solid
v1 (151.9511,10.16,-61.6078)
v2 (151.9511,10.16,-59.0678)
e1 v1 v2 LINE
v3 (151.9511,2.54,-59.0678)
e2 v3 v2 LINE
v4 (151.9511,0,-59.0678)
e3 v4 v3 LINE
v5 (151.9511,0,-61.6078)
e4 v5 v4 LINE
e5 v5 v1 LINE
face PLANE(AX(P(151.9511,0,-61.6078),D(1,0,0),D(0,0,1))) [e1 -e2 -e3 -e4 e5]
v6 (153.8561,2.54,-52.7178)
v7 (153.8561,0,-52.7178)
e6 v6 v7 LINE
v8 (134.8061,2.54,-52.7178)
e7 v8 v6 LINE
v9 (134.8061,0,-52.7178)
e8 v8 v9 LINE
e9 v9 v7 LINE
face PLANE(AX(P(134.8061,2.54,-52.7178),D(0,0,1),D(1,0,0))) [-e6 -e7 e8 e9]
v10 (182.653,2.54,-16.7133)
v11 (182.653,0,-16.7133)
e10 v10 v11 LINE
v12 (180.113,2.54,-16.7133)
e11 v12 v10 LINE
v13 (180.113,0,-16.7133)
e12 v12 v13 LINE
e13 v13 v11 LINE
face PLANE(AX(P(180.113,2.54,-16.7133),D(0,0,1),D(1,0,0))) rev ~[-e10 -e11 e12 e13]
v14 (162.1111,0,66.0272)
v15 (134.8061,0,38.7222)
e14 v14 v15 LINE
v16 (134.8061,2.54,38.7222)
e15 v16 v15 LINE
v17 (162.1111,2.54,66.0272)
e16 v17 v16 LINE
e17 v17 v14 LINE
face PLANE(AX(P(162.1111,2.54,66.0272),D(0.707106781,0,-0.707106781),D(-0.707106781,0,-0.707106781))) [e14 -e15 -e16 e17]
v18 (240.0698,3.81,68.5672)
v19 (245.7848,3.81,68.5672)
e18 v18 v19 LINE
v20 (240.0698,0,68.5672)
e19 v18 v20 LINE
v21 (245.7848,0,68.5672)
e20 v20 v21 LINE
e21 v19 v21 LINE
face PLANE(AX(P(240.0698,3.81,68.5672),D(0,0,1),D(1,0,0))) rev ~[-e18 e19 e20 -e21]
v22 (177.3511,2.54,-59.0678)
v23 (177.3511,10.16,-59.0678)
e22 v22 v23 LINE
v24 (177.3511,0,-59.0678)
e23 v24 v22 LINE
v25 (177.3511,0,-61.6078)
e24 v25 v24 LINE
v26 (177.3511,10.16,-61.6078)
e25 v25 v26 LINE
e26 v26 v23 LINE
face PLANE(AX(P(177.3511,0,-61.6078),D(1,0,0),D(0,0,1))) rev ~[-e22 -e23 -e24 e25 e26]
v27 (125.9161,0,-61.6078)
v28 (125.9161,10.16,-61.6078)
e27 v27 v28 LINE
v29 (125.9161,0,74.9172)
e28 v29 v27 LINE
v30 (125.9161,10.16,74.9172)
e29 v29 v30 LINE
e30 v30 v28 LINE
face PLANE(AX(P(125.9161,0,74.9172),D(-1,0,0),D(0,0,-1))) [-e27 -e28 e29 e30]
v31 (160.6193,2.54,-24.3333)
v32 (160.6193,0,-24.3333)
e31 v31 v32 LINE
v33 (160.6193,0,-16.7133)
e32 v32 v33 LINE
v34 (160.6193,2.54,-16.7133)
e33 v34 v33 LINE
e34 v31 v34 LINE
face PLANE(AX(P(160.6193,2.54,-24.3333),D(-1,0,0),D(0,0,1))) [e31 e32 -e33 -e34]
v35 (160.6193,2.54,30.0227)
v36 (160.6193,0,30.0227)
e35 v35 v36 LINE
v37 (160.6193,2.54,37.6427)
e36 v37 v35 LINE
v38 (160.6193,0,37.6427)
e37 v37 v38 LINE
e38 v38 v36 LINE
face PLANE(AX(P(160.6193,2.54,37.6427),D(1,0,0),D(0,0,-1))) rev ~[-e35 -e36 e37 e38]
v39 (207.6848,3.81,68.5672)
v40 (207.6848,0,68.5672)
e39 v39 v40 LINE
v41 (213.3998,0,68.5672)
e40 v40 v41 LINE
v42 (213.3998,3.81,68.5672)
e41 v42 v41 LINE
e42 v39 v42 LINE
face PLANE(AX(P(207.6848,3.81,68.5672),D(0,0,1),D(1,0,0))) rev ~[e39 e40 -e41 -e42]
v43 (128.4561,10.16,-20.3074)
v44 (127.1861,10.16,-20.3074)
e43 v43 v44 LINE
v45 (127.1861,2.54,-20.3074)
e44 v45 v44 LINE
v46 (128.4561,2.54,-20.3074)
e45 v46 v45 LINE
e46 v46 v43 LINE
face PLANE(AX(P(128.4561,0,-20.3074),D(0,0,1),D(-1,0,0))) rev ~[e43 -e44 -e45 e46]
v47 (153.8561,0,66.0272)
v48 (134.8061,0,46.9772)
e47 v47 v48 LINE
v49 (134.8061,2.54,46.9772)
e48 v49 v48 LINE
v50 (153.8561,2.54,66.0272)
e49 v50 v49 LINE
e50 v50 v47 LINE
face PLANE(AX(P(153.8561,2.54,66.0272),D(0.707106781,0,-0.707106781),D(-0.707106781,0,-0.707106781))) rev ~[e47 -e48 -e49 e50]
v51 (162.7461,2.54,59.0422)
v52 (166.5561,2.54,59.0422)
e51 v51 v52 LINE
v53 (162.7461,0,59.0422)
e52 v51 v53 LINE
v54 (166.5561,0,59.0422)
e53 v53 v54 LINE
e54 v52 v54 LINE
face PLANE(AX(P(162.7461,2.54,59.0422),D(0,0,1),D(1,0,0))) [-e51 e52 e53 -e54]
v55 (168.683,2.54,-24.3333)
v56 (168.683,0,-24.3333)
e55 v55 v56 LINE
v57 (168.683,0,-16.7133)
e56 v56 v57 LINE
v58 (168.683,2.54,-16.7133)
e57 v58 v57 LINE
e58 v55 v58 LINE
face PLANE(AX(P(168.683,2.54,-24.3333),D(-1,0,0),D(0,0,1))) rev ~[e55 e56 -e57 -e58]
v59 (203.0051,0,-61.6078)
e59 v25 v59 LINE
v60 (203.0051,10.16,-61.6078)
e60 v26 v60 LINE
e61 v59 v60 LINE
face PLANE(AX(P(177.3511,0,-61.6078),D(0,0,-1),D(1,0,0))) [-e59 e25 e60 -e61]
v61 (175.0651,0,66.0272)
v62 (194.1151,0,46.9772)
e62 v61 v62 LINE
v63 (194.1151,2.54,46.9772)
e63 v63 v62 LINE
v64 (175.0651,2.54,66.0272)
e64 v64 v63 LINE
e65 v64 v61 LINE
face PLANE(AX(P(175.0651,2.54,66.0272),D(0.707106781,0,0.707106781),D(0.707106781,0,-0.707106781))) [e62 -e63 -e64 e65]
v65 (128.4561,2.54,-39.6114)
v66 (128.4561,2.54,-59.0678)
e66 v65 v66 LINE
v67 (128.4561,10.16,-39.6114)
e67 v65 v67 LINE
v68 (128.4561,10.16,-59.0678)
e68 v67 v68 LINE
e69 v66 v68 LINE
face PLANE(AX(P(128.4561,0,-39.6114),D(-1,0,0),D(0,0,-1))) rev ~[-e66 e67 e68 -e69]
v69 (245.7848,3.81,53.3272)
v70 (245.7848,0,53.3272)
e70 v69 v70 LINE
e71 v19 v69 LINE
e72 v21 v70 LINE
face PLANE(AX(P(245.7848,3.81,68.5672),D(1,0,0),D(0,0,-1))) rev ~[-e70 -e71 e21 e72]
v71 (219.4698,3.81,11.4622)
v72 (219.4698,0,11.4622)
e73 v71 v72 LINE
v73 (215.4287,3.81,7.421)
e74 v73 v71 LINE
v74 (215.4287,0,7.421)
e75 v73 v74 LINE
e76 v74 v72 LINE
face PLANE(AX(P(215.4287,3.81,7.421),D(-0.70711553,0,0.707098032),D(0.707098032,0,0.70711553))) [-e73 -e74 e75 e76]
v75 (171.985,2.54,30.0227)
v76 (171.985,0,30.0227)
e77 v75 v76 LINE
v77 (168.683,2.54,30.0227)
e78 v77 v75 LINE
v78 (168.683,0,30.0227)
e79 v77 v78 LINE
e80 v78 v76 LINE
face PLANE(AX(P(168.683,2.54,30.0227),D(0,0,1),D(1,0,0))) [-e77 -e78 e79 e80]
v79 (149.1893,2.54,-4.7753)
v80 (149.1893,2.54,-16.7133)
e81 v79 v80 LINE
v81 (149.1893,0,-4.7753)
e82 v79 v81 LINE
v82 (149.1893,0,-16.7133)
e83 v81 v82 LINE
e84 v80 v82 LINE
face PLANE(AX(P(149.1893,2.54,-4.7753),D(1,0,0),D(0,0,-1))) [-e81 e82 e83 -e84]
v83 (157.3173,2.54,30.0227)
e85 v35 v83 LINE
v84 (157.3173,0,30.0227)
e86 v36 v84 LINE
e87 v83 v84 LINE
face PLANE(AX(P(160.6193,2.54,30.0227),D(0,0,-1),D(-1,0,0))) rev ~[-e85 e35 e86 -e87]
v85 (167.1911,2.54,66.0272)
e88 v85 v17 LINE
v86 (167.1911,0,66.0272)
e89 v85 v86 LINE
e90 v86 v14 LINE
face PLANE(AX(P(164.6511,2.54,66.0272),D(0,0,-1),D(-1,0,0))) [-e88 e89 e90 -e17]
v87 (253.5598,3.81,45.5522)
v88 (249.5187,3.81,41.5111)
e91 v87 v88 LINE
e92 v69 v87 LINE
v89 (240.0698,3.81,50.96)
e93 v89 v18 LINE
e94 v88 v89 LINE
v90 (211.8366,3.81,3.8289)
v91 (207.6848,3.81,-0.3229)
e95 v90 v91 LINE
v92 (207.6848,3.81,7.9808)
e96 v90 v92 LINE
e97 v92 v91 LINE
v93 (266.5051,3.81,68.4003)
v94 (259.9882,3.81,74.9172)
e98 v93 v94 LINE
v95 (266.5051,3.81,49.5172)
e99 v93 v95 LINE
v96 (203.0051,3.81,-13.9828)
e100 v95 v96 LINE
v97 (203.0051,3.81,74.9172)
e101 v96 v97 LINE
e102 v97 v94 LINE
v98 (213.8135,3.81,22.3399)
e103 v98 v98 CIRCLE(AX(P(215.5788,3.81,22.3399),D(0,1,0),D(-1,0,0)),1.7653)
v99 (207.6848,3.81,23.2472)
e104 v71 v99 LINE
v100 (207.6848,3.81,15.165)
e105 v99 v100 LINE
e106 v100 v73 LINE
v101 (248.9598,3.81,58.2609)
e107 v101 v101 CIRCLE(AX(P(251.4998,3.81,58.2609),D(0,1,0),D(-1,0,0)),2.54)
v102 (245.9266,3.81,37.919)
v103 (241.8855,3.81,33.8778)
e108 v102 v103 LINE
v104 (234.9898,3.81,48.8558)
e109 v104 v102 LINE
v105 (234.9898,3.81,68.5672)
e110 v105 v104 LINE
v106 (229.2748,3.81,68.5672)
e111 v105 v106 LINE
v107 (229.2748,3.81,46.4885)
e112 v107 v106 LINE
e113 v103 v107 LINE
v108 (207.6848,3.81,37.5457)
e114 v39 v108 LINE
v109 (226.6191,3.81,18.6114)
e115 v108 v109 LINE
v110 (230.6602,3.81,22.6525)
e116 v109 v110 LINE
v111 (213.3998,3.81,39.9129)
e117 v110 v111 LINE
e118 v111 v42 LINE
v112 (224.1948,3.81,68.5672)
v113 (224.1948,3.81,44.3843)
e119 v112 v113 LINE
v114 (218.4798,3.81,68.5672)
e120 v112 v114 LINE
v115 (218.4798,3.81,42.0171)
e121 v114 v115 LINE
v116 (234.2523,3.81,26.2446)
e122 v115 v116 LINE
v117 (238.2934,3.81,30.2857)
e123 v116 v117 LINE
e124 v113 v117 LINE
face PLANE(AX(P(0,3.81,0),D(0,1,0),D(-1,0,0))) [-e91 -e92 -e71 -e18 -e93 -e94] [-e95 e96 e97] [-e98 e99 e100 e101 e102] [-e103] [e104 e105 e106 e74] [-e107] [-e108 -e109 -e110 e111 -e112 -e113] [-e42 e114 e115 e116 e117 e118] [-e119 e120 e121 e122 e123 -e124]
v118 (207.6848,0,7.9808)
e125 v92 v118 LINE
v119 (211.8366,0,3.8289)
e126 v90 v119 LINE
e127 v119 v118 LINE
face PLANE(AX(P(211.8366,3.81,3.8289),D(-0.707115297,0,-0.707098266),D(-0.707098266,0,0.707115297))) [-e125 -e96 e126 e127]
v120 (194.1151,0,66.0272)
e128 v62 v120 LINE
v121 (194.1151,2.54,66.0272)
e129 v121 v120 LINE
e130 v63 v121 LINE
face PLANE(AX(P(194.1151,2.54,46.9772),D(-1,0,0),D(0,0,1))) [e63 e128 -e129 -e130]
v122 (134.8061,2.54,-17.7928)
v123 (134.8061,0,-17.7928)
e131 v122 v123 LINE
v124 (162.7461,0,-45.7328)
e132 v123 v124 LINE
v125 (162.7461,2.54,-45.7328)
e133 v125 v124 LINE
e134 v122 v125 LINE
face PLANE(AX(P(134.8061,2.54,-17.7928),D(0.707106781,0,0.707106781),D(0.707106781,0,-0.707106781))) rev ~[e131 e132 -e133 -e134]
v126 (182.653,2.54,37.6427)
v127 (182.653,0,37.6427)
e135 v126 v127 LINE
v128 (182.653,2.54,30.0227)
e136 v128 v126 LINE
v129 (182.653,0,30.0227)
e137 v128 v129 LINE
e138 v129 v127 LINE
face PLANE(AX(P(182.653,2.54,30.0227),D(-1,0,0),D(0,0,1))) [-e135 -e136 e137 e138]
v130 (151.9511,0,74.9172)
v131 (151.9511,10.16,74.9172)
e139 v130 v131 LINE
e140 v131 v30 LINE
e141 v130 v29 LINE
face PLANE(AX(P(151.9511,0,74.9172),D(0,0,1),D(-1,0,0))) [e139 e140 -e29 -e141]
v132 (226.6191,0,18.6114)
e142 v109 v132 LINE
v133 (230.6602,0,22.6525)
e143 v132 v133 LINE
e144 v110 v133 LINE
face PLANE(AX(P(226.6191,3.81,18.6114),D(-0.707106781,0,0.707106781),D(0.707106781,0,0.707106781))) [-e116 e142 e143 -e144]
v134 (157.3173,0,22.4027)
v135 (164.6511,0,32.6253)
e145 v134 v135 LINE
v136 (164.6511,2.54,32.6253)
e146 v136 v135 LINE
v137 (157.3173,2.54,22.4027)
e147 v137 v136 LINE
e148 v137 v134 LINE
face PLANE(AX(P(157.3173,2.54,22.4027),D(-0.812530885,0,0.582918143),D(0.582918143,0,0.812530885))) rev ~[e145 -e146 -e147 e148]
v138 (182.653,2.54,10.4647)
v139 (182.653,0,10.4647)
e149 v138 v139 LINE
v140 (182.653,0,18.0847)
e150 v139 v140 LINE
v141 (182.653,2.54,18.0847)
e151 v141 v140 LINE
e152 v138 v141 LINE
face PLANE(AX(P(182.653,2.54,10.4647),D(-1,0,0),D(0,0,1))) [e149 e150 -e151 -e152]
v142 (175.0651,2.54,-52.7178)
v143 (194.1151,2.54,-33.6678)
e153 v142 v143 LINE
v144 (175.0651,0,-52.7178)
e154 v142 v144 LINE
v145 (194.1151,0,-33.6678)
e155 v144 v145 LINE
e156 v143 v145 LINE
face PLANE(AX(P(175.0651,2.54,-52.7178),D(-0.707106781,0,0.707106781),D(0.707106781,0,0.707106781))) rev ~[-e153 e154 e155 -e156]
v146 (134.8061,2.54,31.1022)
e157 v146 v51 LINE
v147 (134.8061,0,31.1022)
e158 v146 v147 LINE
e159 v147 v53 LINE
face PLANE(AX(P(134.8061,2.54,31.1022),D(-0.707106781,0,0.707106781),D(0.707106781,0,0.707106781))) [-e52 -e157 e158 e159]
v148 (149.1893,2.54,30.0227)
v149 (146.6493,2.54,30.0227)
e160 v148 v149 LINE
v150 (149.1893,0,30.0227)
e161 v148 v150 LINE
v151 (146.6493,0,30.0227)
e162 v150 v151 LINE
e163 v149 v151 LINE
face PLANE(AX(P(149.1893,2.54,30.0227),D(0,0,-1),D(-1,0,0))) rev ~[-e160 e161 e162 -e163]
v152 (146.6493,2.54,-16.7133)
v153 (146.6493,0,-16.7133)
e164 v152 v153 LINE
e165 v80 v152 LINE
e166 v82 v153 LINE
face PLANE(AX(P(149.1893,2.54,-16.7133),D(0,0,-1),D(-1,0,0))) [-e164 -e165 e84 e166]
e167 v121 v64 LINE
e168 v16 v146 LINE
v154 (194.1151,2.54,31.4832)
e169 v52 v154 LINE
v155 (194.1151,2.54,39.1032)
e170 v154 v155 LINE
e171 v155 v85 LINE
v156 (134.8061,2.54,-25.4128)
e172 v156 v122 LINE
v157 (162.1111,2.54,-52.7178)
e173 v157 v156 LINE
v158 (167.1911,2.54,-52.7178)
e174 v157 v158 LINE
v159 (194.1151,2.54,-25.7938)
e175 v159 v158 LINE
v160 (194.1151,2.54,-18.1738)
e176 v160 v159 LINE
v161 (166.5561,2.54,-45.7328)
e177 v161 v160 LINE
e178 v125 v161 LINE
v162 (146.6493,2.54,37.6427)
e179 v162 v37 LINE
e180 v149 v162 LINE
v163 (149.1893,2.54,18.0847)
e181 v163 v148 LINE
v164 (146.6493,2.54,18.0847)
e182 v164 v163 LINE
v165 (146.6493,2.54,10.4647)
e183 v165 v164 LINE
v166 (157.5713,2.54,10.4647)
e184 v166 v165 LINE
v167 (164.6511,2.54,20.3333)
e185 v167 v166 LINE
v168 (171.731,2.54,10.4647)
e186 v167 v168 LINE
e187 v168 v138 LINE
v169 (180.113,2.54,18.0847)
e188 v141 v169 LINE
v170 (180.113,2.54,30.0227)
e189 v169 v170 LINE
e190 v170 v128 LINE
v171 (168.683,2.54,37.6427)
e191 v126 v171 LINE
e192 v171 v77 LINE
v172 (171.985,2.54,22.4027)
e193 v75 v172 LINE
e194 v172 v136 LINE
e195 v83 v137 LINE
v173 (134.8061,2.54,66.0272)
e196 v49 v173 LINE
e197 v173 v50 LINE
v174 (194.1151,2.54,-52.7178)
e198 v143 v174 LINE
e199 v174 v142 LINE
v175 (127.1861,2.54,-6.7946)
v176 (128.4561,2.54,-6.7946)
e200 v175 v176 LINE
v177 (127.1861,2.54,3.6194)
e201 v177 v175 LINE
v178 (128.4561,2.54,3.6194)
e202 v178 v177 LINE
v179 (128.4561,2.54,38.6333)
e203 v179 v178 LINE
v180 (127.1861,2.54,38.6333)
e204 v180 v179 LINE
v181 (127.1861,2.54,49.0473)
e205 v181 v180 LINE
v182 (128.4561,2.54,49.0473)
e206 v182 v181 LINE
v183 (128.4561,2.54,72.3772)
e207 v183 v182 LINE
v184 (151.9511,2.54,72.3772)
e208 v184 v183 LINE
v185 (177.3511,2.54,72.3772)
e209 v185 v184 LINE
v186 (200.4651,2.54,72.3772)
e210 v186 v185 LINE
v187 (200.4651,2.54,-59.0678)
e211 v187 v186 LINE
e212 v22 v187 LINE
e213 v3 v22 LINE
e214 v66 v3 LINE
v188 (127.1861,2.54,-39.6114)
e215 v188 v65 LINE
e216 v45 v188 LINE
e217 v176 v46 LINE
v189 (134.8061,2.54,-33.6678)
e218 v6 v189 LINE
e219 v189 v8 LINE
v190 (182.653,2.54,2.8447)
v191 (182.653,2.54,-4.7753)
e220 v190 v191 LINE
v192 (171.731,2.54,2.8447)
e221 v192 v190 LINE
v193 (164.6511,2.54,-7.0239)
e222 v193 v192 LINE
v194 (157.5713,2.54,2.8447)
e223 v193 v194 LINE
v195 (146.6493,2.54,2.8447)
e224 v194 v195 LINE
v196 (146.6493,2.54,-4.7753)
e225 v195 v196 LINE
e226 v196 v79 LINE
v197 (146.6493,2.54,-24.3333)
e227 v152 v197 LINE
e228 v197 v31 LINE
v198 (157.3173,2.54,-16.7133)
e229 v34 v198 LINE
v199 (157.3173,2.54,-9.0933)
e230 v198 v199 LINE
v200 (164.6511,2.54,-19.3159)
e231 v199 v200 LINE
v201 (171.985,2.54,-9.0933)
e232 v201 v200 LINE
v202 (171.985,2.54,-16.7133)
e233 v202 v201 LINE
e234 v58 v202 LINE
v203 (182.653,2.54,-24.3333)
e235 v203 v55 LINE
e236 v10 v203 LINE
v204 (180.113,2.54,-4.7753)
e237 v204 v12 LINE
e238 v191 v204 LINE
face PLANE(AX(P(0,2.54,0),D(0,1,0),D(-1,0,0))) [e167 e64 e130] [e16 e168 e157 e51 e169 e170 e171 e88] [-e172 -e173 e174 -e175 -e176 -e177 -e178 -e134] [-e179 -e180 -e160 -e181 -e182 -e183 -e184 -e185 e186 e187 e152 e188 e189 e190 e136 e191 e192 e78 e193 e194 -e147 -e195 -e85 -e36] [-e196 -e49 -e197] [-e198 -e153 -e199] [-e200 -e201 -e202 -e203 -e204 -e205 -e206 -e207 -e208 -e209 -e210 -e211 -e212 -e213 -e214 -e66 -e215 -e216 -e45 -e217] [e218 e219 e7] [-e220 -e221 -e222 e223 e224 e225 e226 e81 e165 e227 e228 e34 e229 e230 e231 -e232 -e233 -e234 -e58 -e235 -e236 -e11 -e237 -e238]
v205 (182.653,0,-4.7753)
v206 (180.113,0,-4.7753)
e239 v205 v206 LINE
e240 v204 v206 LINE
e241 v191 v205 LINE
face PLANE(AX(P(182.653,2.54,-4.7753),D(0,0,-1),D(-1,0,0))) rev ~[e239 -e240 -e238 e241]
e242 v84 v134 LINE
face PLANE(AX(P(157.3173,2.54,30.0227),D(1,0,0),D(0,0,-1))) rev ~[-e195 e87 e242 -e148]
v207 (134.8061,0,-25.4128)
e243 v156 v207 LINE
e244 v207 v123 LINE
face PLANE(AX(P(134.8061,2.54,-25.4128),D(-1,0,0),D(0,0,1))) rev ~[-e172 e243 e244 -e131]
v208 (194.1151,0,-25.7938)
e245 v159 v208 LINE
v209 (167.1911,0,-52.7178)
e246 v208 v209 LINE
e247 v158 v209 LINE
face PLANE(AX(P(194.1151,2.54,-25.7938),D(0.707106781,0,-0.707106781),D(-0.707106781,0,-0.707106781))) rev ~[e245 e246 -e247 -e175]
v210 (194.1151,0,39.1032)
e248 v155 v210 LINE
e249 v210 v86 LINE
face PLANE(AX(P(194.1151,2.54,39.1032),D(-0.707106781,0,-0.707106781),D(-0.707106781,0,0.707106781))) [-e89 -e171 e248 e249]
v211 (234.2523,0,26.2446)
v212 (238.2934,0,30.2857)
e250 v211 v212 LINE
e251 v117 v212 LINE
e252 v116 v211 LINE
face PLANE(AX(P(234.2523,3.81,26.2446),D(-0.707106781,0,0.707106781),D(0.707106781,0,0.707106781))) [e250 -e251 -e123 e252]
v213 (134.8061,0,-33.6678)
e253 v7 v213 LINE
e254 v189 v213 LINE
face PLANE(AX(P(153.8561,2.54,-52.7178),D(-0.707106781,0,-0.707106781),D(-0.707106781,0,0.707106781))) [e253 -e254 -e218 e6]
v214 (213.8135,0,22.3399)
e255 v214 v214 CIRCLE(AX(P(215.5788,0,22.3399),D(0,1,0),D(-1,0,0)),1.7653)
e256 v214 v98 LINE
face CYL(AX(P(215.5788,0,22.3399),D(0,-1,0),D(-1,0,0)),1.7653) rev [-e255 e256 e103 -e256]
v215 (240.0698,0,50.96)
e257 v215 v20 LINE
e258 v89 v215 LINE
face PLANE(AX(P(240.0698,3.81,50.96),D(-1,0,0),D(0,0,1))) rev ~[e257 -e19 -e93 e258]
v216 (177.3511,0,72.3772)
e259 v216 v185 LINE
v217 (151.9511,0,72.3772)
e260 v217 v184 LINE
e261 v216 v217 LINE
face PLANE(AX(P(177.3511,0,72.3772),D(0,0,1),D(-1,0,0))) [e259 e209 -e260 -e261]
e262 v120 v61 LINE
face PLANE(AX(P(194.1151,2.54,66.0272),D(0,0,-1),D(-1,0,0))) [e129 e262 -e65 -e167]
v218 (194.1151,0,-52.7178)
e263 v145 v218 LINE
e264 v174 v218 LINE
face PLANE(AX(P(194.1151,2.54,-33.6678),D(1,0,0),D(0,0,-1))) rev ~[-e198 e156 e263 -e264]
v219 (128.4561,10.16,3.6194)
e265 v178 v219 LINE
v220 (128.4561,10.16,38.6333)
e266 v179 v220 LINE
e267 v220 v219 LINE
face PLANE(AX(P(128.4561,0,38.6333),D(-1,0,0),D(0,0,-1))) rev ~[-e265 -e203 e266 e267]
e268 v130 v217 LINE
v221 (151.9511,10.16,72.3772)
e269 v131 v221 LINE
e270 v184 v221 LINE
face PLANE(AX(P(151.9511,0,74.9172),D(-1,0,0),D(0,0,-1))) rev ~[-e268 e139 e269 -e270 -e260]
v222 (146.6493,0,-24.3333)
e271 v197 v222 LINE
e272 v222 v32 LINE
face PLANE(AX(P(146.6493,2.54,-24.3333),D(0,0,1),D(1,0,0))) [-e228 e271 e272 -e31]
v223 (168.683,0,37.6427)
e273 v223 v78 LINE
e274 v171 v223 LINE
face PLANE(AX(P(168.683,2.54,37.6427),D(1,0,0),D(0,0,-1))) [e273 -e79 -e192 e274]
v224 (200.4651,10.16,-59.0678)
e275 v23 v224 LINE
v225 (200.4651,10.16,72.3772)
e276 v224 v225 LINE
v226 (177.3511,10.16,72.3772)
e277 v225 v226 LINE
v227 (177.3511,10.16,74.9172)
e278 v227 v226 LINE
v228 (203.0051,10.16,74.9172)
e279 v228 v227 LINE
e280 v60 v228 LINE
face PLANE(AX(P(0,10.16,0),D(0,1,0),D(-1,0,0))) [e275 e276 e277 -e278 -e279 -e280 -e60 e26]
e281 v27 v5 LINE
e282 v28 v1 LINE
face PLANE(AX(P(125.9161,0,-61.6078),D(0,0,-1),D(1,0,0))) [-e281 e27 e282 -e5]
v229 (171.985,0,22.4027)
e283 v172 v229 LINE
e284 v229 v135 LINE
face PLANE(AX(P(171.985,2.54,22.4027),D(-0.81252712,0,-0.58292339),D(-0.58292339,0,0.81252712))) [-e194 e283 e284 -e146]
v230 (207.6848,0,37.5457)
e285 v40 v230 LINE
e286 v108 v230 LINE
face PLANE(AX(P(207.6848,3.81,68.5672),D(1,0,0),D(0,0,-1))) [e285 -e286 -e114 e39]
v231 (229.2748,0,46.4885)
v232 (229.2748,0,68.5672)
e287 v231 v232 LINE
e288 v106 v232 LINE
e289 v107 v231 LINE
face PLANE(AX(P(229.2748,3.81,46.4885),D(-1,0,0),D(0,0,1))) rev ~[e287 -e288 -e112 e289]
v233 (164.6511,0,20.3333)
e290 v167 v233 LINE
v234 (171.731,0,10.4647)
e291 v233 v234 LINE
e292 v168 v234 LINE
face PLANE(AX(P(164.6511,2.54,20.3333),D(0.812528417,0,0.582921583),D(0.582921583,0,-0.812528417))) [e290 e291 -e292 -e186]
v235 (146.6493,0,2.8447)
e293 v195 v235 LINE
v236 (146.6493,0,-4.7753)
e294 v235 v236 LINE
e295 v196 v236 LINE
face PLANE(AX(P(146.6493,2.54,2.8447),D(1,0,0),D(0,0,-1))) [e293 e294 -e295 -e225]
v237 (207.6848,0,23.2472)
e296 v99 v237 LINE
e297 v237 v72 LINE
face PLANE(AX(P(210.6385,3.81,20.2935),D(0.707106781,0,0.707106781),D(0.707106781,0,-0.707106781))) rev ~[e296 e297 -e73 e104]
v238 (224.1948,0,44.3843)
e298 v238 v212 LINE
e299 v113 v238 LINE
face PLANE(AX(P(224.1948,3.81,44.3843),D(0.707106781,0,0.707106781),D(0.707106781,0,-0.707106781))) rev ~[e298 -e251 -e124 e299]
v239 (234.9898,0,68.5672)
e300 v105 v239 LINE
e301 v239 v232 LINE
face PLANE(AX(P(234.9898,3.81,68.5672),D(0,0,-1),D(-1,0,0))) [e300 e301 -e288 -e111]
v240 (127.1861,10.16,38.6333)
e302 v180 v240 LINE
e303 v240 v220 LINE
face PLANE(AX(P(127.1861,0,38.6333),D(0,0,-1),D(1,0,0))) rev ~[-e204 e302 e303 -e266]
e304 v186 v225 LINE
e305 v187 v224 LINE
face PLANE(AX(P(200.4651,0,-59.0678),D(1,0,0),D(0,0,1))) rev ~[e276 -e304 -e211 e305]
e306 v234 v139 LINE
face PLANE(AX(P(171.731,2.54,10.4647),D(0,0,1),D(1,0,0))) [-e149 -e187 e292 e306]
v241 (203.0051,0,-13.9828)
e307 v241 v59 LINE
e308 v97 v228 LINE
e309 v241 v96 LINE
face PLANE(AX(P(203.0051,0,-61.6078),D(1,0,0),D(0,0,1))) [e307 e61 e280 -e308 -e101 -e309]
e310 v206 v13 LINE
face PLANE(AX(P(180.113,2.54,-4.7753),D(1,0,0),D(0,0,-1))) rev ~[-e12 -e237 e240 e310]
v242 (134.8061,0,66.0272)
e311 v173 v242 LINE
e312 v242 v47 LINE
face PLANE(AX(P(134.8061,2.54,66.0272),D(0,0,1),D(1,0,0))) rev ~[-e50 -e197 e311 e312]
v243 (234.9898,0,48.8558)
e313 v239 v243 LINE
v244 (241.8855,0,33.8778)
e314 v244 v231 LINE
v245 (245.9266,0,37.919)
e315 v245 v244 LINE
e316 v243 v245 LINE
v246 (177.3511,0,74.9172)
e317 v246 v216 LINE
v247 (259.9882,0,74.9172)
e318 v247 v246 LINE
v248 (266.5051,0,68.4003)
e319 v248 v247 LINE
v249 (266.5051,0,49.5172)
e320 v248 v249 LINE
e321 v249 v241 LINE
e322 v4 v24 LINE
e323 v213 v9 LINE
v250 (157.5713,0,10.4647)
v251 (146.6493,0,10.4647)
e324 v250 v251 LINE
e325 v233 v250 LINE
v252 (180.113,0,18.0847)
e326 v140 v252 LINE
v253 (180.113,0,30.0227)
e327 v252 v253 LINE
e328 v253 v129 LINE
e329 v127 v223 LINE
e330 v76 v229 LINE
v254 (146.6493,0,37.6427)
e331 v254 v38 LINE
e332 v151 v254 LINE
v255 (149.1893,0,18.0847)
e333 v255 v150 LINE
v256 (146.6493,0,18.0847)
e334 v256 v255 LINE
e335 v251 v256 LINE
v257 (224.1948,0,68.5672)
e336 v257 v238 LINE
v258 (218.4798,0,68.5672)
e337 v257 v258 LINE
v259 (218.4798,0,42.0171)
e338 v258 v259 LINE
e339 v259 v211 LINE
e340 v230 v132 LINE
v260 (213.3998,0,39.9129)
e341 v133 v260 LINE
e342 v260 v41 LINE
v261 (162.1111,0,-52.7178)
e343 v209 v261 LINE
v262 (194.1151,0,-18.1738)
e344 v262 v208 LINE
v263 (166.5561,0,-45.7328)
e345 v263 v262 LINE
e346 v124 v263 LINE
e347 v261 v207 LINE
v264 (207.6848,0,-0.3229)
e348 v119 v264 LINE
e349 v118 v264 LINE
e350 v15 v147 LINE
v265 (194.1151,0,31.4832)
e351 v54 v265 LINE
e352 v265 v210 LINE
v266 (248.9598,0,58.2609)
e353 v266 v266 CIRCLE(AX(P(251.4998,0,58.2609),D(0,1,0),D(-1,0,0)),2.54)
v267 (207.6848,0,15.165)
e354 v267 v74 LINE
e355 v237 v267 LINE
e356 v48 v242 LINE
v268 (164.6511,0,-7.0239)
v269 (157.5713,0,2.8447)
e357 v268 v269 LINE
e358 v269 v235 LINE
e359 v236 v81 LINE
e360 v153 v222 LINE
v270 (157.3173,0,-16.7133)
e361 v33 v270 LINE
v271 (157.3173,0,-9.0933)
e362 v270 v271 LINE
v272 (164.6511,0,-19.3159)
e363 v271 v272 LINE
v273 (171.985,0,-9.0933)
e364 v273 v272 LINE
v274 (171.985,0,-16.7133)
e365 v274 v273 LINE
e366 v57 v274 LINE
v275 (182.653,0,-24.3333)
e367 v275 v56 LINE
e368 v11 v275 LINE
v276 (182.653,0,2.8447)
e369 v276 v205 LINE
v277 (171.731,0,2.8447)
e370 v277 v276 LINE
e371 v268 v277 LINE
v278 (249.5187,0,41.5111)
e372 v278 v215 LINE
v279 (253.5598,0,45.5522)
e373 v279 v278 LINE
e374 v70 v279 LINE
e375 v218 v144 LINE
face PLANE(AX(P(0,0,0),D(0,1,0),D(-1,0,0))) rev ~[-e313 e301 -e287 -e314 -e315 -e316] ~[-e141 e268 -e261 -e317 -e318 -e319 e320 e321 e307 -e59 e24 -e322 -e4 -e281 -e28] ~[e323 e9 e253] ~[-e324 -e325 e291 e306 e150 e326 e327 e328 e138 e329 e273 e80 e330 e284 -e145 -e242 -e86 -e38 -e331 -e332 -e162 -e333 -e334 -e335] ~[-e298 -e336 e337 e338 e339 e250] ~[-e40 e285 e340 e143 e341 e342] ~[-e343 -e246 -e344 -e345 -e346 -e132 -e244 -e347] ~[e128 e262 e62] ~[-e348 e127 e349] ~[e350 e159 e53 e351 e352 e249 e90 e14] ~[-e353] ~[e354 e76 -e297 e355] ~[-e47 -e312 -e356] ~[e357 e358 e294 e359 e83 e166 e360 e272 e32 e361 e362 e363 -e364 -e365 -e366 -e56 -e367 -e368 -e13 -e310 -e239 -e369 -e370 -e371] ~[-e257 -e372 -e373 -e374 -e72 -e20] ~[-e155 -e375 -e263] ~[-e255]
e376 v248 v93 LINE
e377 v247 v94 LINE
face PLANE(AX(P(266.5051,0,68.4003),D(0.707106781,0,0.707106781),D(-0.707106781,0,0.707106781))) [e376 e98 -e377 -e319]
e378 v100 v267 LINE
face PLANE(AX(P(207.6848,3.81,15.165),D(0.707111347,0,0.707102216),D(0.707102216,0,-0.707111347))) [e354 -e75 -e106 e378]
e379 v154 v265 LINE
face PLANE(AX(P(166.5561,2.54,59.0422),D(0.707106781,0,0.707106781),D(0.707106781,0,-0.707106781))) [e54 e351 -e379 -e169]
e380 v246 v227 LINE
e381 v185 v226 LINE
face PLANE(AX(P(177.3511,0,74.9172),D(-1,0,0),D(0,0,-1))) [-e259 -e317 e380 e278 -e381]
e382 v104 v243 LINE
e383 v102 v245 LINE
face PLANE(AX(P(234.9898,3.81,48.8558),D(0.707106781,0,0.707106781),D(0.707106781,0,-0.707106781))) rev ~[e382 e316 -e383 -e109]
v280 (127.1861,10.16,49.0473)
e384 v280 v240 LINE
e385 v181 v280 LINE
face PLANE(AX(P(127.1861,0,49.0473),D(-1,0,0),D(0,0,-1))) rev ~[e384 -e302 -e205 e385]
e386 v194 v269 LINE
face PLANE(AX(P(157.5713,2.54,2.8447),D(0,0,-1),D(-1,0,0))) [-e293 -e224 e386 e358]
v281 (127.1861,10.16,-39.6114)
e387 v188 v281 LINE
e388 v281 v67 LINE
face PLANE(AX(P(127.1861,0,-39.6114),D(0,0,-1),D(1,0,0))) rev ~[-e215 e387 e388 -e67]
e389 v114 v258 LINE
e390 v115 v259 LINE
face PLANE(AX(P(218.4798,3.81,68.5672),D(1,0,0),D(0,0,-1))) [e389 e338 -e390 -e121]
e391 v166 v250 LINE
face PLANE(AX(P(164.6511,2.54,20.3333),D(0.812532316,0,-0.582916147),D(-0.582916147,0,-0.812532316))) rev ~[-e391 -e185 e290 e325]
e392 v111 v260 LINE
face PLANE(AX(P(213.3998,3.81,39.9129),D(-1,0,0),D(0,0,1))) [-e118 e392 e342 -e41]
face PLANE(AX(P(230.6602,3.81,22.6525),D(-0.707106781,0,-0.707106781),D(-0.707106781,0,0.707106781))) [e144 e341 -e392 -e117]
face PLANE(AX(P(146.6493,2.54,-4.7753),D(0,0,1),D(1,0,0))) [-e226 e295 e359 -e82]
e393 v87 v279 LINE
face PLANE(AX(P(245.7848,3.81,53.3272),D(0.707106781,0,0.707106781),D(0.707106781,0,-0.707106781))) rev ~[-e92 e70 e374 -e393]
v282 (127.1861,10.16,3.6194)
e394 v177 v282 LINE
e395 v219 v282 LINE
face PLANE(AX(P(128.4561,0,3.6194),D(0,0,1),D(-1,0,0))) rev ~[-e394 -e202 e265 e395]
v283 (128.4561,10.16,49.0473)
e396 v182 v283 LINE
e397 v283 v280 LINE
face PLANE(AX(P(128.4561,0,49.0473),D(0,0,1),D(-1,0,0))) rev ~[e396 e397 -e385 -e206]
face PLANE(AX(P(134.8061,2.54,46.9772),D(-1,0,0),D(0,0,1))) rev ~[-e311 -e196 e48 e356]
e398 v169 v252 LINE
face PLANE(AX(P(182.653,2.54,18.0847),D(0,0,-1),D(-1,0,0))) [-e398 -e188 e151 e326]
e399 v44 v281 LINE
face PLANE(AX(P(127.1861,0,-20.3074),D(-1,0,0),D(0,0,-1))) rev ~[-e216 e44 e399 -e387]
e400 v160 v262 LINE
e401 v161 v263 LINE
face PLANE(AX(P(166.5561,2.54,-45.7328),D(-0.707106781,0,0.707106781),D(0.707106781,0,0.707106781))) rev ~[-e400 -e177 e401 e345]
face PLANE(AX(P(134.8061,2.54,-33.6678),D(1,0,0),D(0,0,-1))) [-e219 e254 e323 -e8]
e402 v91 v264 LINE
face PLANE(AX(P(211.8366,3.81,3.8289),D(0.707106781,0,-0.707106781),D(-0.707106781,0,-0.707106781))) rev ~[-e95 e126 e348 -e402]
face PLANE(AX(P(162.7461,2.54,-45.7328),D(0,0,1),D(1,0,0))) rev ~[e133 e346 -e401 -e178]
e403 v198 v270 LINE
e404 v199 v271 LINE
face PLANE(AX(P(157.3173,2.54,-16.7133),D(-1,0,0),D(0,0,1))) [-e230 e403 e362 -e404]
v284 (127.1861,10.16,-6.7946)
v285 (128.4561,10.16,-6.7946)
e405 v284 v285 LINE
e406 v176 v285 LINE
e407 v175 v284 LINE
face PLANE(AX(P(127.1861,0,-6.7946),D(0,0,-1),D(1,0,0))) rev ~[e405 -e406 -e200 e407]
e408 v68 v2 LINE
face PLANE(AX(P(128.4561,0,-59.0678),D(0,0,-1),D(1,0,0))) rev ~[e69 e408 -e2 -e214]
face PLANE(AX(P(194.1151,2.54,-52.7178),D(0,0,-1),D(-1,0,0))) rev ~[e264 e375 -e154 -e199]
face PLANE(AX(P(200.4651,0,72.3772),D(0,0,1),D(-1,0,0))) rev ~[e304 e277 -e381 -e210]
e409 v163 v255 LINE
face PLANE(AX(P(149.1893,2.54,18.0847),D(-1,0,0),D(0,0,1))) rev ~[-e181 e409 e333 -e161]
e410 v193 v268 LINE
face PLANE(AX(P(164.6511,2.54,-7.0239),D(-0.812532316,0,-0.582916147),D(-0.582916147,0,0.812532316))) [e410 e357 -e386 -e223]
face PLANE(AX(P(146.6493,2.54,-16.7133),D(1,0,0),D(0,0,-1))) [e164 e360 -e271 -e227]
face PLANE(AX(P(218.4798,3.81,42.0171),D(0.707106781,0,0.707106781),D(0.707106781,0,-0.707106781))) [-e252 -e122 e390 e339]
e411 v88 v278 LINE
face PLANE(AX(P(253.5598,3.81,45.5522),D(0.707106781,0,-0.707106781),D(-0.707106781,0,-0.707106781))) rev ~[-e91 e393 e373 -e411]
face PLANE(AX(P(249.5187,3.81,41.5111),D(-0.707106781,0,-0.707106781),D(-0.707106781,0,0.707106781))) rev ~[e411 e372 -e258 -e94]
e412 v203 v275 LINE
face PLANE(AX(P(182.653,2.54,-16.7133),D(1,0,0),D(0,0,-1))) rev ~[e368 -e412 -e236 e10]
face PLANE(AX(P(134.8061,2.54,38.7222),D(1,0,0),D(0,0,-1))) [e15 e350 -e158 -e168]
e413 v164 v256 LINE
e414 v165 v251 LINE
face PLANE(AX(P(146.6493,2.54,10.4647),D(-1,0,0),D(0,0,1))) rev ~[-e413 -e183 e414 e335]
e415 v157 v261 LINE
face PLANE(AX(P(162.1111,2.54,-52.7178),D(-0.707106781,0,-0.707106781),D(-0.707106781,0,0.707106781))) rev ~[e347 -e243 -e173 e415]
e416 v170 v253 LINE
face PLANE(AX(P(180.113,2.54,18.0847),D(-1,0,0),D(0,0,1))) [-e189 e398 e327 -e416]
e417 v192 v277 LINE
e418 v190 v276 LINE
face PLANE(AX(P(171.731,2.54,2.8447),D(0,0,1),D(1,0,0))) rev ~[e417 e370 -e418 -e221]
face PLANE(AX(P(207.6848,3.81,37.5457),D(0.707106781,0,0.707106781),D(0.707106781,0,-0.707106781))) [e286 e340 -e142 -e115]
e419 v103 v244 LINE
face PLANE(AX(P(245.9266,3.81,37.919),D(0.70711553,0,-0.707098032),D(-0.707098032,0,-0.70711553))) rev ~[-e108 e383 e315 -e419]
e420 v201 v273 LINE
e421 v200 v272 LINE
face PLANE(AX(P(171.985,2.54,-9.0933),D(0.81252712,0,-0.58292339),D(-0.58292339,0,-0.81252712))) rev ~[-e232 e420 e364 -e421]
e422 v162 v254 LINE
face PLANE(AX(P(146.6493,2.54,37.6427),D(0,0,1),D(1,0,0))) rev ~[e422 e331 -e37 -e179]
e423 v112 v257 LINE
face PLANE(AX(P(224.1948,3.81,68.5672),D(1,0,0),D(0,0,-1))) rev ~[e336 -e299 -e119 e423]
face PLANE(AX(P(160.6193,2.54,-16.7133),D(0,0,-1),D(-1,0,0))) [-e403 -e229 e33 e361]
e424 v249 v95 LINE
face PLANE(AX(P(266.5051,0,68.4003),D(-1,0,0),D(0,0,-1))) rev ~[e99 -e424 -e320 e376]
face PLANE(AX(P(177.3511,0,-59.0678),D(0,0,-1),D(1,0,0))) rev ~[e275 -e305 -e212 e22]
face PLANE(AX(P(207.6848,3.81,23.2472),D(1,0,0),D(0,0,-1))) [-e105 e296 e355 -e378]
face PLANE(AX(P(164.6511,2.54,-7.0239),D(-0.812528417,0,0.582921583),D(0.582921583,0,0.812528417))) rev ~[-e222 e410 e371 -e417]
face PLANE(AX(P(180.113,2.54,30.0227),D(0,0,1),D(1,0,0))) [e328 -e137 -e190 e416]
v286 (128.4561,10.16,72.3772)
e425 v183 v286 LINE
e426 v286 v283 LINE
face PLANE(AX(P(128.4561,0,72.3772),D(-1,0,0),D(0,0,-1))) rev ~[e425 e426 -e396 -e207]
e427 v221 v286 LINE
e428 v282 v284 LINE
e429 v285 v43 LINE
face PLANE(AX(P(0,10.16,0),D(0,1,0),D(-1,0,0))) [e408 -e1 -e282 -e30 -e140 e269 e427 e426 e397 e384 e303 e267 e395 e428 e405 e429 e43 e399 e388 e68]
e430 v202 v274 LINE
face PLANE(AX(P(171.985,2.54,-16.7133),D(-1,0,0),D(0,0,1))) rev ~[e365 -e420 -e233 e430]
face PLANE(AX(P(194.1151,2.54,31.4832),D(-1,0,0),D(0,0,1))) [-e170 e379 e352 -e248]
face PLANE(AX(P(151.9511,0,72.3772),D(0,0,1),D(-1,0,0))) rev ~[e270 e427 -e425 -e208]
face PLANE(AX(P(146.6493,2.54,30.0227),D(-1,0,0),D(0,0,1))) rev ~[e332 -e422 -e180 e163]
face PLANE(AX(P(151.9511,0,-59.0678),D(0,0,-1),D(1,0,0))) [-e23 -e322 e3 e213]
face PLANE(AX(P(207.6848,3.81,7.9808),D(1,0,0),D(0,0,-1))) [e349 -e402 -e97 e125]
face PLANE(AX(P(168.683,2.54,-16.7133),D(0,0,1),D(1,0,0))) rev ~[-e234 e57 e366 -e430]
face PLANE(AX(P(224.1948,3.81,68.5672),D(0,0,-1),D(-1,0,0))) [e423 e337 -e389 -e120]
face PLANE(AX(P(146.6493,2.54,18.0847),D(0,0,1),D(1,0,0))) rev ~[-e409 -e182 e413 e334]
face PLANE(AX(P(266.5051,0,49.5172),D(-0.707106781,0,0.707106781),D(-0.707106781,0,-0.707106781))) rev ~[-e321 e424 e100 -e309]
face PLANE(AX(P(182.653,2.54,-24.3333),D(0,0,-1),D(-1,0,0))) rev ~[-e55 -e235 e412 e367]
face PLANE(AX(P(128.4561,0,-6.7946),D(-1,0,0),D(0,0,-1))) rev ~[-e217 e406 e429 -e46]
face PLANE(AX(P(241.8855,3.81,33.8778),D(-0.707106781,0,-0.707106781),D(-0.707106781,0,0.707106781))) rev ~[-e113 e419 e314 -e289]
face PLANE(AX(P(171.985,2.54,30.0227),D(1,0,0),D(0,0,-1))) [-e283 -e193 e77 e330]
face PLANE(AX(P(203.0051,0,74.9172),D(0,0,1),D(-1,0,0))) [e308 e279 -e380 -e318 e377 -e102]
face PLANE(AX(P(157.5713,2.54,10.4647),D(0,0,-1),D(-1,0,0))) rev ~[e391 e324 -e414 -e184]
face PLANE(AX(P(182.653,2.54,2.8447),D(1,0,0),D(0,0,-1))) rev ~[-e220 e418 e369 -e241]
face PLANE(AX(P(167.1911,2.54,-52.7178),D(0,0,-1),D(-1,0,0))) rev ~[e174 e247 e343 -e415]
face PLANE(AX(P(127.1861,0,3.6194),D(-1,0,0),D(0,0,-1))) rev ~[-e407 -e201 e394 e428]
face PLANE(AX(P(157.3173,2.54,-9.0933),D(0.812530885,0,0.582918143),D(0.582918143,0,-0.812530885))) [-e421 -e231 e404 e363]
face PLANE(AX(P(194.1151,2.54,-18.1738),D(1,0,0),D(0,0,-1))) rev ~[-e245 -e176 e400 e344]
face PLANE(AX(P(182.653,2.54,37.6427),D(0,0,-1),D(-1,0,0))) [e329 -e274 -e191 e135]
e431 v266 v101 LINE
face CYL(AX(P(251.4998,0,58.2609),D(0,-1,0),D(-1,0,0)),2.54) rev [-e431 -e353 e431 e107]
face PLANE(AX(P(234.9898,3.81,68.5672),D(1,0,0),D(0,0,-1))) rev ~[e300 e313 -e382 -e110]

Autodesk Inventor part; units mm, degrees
ref_plane "YZ Plane" through (0, 0, 0) normal (1, 0, 0) x (0, 1, 0)
ref_plane "XZ Plane" through (0, 0, 0) normal (0, 1, 0) x (-1, 0, 0)
ref_plane "XY Plane" through (0, 0, 0) normal (0, 0, 1) x (1, 0, 0)
sketch "Sketch1" plane through (0, 0, 0) normal (0, 1, 0) x (-1, 0, 0)
  line L0 (-128.4561, -59.0678) -> (-200.4651, -59.0678)
  line L1 (-200.4651, -59.0678) -> (-200.4651, 72.3772)
  line L2 (-200.4651, 72.3772) -> (-128.4561, 72.3772)
  line L3 (-128.4561, 72.3772) -> (-128.4561, 49.0473)
  line L4 (-128.4561, 49.0473) -> (-127.1861, 49.0473)
  line L5 (-127.1861, 49.0473) -> (-127.1861, 38.6333)
  line L6 (-127.1861, 38.6333) -> (-128.4561, 38.6333)
  line L7 (-128.4561, 38.6333) -> (-128.4561, 3.6194)
  line L8 (-128.4561, 3.6194) -> (-127.1861, 3.6194)
  line L9 (-127.1861, 3.6194) -> (-127.1861, -6.7946)
  line L10 (-127.1861, -6.7946) -> (-128.4561, -6.7946)
  line L11 (-128.4561, -6.7946) -> (-128.4561, -20.3074)
  line L12 (-128.4561, -20.3074) -> (-127.1861, -20.3074)
  line L13 (-127.1861, -20.3074) -> (-127.1861, -39.6114)
  line L14 (-127.1861, -39.6114) -> (-128.4561, -39.6114)
  line L15 (-128.4561, -39.6114) -> (-128.4561, -59.0678)
  line L16 (-203.0051, 74.9172) -> (-125.9161, 74.9172)
  line L17 (-125.9161, 74.9172) -> (-125.9161, -61.6078)
  line L18 (-125.9161, -61.6078) -> (-203.0051, -61.6078)
  line L19 (-203.0051, -61.6078) -> (-203.0051, 74.9172)
  circle A0 centre (-164.6511, -28.5878) radius 4.9213 construction
  line L20 (-203.0051, 74.9172) -> (-266.5051, 74.9172)
  line L21 (-164.6511, 373.4543) -> (-228.1511, 373.4543) construction
  line L22 (-228.1511, 373.4543) -> (-228.1511, 106.7543) construction
  line L23 (-228.1511, 106.7543) -> (-299.9932, 34.9122) construction
  line L24 (-299.9932, 34.9122) -> (-668.2932, 34.9122) construction
  line L25 (-668.2932, 34.9122) -> (-668.2932, -28.5878) construction
  line L26 (-668.2932, -28.5878) -> (-223.7932, -28.5878) construction
  line L27 (-223.7932, -28.5878) -> (-164.6511, 30.5543) construction
  line L28 (-164.6511, 30.5543) -> (-164.6511, 373.4543) construction
  line L29 (-264.0722, 70.8332) -> (-194.2222, 0.9832) construction
  line L30 (-164.6511, 30.5543) -> (-164.6511, -28.5878) construction
  line L31 (-164.6511, -28.5878) -> (-223.7932, -28.5878) construction
  circle A1 centre (-251.4998, 58.2609) radius 2.54
  circle A2 centre (-215.5788, 22.3399) radius 1.7653
  line L32 (-266.5051, 74.9172) -> (-266.5051, 49.5172)
  line L33 (-266.5051, 49.5172) -> (-203.0051, -13.9828)
  line L34 (-177.3511, 74.9172) -> (-177.3511, 72.3772)
  line L35 (-151.9511, 74.9172) -> (-151.9511, 72.3772)
  line L36 (-177.3511, -61.6078) -> (-177.3511, -59.0678)
  line L37 (-151.9511, -61.6078) -> (-151.9511, -59.0678)
  line L38 (-266.5051, 68.4003) -> (-259.9882, 74.9172)
  point P0 (0, 0)
  dimension "d0" = 72.009
  dimension "d3" = 131.445
  dimension "d4" = 10.414
  dimension "d5" = 10.414
  dimension "d6" = 19.304
  dimension "d7" = 23.3299
  dimension "d8" = 35.0139
  dimension "d9" = 13.5128
  dimension "d10" = 1.27
  dimension "d11" = 2.54
  dimension "d12" = 2.54
  dimension "d13" = 2.54
  dimension "d14" = 2.54
  dimension "d15" = 9.8425
  dimension "d17" = 36.195
  dimension "d18" = 30.48
  dimension "d19" = 63.5
  dimension "d20" = 63.5
  dimension "d21" = 63.5
  dimension "d22" = 101.6
  dimension "d23" = 266.7
  dimension "d24" = 368.3
  dimension "d25" = 444.5
  dimension "d26" = 342.9
  dimension "d27" = 5.08
  dimension "d28" = 3.5306
  dimension "d29" = 17.78
  dimension "d30" = 68.58
  dimension "d31" = 25.4
  dimension "d44" = 12.7
  dimension "d45" = 12.7
  dimension "d64" = 59.142
  dimension "d65" = 59.142
extrude "Extrusion13" add sketch "Sketch1" along normal blind 2.54 contours L0 L1 L2 L3 L4 L5 L6 L7 L8 L9 L10 L11 L12 L13 L14 L15
extrude "Extrusion14" add sketch "Sketch1" along normal blind 3.81 contours L33 L32 L38 L20 L19
extrude "Extrusion15" add sketch "Sketch1" along normal blind 10.16 contours L15 L14 L13 L12 L11 L10 L9 L8 L7 L6 L5 L4 L3 L2 L35 L16 L17 L18 L37 L0 | L36 L18 L19 L16 L34 L2 L1 L0
sketch "Sketch5" plane through (0, 2.54, 0) normal (0, 1, 0) x (1, 0, 0)
  line L0 (200.4651, 59.0678) -> (177.3511, 59.0678) projected
  line L1 (177.3511, 59.0678) -> (151.9511, 59.0678) projected
  line L2 (128.4561, -49.0473) -> (128.4561, -72.3772) projected
  line L3 (128.4561, -72.3772) -> (151.9511, -72.3772) projected
  line L4 (151.9511, -72.3772) -> (177.3511, -72.3772) projected
  line L5 (200.4651, -72.3772) -> (200.4651, 59.0678) projected
  line L6 (151.9511, -72.3772) -> (128.4561, -72.3772) projected
  line L7 (164.6511, 59.0678) -> (164.6511, -72.3772) construction
  line L8 (134.8061, -66.0272) -> (194.1151, -66.0272) construction
  line L9 (194.1151, -66.0272) -> (194.1151, 52.7178) construction
  line L10 (194.1151, 52.7178) -> (134.8061, 52.7178) construction
  line L11 (134.8061, 52.7178) -> (134.8061, -66.0272) construction
  line L12 (134.8061, -66.0272) -> (153.8561, -66.0272)
  line L13 (153.8561, -66.0272) -> (134.8061, -46.9772)
  line L14 (134.8061, -46.9772) -> (134.8061, -66.0272)
  line L15 (194.1151, -66.0272) -> (175.0651, -66.0272)
  line L16 (175.0651, -66.0272) -> (194.1151, -46.9772)
  line L17 (194.1151, -46.9772) -> (194.1151, -66.0272)
  line L18 (164.6511, -66.0272) -> (162.1111, -66.0272)
  line L19 (162.1111, -66.0272) -> (134.8061, -38.7222)
  line L20 (134.8061, -38.7222) -> (134.8061, -31.1022)
  line L21 (134.8061, -31.1022) -> (162.7461, -59.0422)
  line L22 (162.7461, -59.0422) -> (166.5561, -59.0422)
  line L23 (166.5561, -59.0422) -> (194.1151, -31.4832)
  line L24 (194.1151, -31.4832) -> (194.1151, -39.1032)
  line L25 (194.1151, -39.1032) -> (167.1911, -66.0272)
  line L26 (167.1911, -66.0272) -> (164.6511, -66.0272)
  line L27 (194.1151, -6.6547) -> (134.8061, -6.6547) construction
  line L28 (164.6511, -20.3333) -> (157.5713, -10.4647)
  line L29 (157.5713, -10.4647) -> (146.6493, -10.4647)
  line L30 (146.6493, -10.4647) -> (146.6493, -18.0847)
  line L31 (146.6493, -18.0847) -> (149.1893, -18.0847)
  line L32 (149.1893, -18.0847) -> (149.1893, -30.0227)
  line L33 (149.1893, -30.0227) -> (146.6493, -30.0227)
  line L34 (146.6493, -30.0227) -> (146.6493, -37.6427)
  line L35 (146.6493, -37.6427) -> (160.6193, -37.6427)
  line L36 (160.6193, -37.6427) -> (160.6193, -30.0227)
  line L37 (160.6193, -30.0227) -> (157.3173, -30.0227)
  line L38 (157.3173, -30.0227) -> (157.3173, -22.4027)
  line L39 (157.3173, -22.4027) -> (164.6511, -32.6253)
  line L40 (164.6511, -20.3333) -> (171.731, -10.4647)
  line L41 (171.731, -10.4647) -> (182.653, -10.4647)
  line L42 (182.653, -10.4647) -> (182.653, -18.0847)
  line L43 (182.653, -18.0847) -> (180.113, -18.0847)
  line L44 (180.113, -18.0847) -> (180.113, -30.0227)
  line L45 (180.113, -30.0227) -> (182.653, -30.0227)
  line L46 (182.653, -30.0227) -> (182.653, -37.6427)
  line L47 (182.653, -37.6427) -> (168.683, -37.6427)
  line L48 (168.683, -37.6427) -> (168.683, -30.0227)
  line L49 (168.683, -30.0227) -> (171.985, -30.0227)
  line L50 (171.985, -30.0227) -> (171.985, -22.4027)
  line L51 (171.985, -22.4027) -> (164.6511, -32.6253)
  line L52 (154.6041, -43.9927) -> (182.6357, -43.9927) construction
  line L53 (182.6357, -43.9927) -> (182.6357, -47.2383) construction
  line L54 (182.6357, -47.2383) -> (154.6041, -47.2383) construction
  line L55 (154.6041, -47.2383) -> (154.6041, -43.9927) construction
  line L56 (134.8061, 52.7178) -> (194.1151, 52.7178) construction
  line L57 (134.8061, 52.7178) -> (153.8561, 52.7178)
  line L58 (153.8561, 52.7178) -> (134.8061, 33.6678)
  line L59 (134.8061, 33.6678) -> (134.8061, 52.7178)
  line L60 (194.1151, 52.7178) -> (175.0651, 52.7178)
  line L61 (175.0651, 52.7178) -> (194.1151, 33.6678)
  line L62 (194.1151, 33.6678) -> (194.1151, 52.7178)
  line L63 (164.6511, 52.7178) -> (162.1111, 52.7178)
  line L64 (162.1111, 52.7178) -> (134.8061, 25.4128)
  line L65 (134.8061, 25.4128) -> (134.8061, 17.7928)
  line L66 (134.8061, 17.7928) -> (162.7461, 45.7328)
  line L67 (162.7461, 45.7328) -> (166.5561, 45.7328)
  line L68 (166.5561, 45.7328) -> (194.1151, 18.1738)
  line L69 (194.1151, 18.1738) -> (194.1151, 25.7938)
  line L70 (194.1151, 25.7938) -> (167.1911, 52.7178)
  line L71 (167.1911, 52.7178) -> (164.6511, 52.7178)
  line L72 (164.6511, 7.0239) -> (157.5713, -2.8447)
  line L73 (157.5713, -2.8447) -> (146.6493, -2.8447)
  line L74 (146.6493, -2.8447) -> (146.6493, 4.7753)
  line L75 (146.6493, 4.7753) -> (149.1893, 4.7753)
  line L76 (149.1893, 4.7753) -> (149.1893, 16.7133)
  line L77 (149.1893, 16.7133) -> (146.6493, 16.7133)
  line L78 (146.6493, 16.7133) -> (146.6493, 24.3333)
  line L79 (146.6493, 24.3333) -> (160.6193, 24.3333)
  line L80 (160.6193, 24.3333) -> (160.6193, 16.7133)
  line L81 (160.6193, 16.7133) -> (157.3173, 16.7133)
  line L82 (157.3173, 16.7133) -> (157.3173, 9.0933)
  line L83 (157.3173, 9.0933) -> (164.6511, 19.3159)
  line L84 (180.113, 16.7133) -> (182.653, 16.7133)
  line L85 (168.683, 24.3333) -> (168.683, 16.7133)
  line L86 (182.653, 16.7133) -> (182.653, 24.3333)
  line L87 (168.683, 16.7133) -> (171.985, 16.7133)
  line L88 (182.653, 24.3333) -> (168.683, 24.3333)
  line L89 (171.985, 9.0933) -> (164.6511, 19.3159)
  line L90 (171.985, 16.7133) -> (171.985, 9.0933)
  line L91 (180.113, 4.7753) -> (180.113, 16.7133)
  line L92 (182.653, 4.7753) -> (180.113, 4.7753)
  line L93 (164.6511, 7.0239) -> (171.731, -2.8447)
  line L94 (171.731, -2.8447) -> (182.653, -2.8447)
  line L95 (182.653, -2.8447) -> (182.653, 4.7753)
  line L96 (174.6875, 30.6833) -> (147.7056, 30.6833) construction
  line L97 (147.7056, 30.6833) -> (147.7056, 39.0913) construction
  line L98 (147.7056, 39.0913) -> (174.6875, 39.0913) construction
  line L99 (174.6875, 39.0913) -> (174.6875, 30.6833) construction
  point P0 (0, 0)
  dimension "d78" = 6.35
  dimension "d79" = 6.35
  dimension "d80" = 6.35
  dimension "d81" = 6.35
  dimension "d82" = 19.05
  dimension "d83" = 45
  dimension "d84" = 19.05
  dimension "d85" = 45
  dimension "d87" = 135
  dimension "d88" = 7.62
  dimension "d89" = 45
  dimension "d90" = 3.81
  dimension "d91" = 135
  dimension "d92" = 7.62
  dimension "d93" = 135
  dimension "d94" = 5.08
  dimension "d95" = 13.97
  dimension "d96" = 7.62
  dimension "d97" = 8.128
  dimension "d98" = 11.938
  dimension "d99" = 2.54
  dimension "d100" = 7.62
  dimension "d101" = 10.922
  dimension "d102" = 7.62
  dimension "d103" = 3.81
  dimension "d104" = 6.35
  dimension "d105" = 6.35
extrude "Extrusion16" cut sketch "Sketch5" against normal blind 25.4
sketch "Sketch6" plane through (0, 3.81, 0) normal (0, 1, 0) x (1, 0, 0)
  circle A0 centre (251.4998, -58.2609) radius 2.54 projected
  circle A1 centre (215.5788, -22.3399) radius 1.7653 projected
  line L0 (203.0051, -74.9172) -> (259.9882, -74.9172) projected
  line L1 (259.9882, -74.9172) -> (266.5051, -68.4003) projected
  line L2 (266.5051, -68.4003) -> (266.5051, -49.5172) projected
  line L3 (266.5051, -49.5172) -> (203.0051, 13.9828) projected
  line L4 (203.0051, 13.9828) -> (203.0051, -74.9172) projected
  line L5 (205.5451, -68.5672) -> (257.3579, -68.5672) construction
  line L6 (257.3579, -68.5672) -> (260.1551, -65.77) construction
  line L7 (260.1551, -65.77) -> (260.1551, -52.1475) construction
  line L8 (260.1551, -52.1475) -> (205.5451, 2.4625) construction
  line L9 (205.5451, 2.4625) -> (205.5451, -68.5672) construction
  line L10 (245.7848, -68.5672) -> (245.7848, -53.3272)
  line L11 (245.7848, -53.3272) -> (253.5598, -45.5522)
  line L12 (249.5187, -41.5111) -> (240.0698, -50.96)
  line L13 (240.0698, -50.96) -> (240.0698, -68.5672)
  line L14 (240.0698, -68.5672) -> (245.7848, -68.5672)
  line L15 (253.5598, -45.5522) -> (249.5187, -41.5111)
  line L16 (234.9898, -68.5672) -> (234.9898, -48.8558)
  line L17 (234.9898, -48.8558) -> (245.9266, -37.919)
  line L18 (241.8855, -33.8778) -> (229.2748, -46.4885)
  line L19 (229.2748, -46.4885) -> (229.2748, -68.5672)
  line L20 (234.9898, -68.5672) -> (229.2748, -68.5672)
  line L21 (245.9266, -37.919) -> (241.8855, -33.8778)
  line L22 (224.1948, -68.5672) -> (224.1948, -44.3843)
  line L23 (224.1948, -44.3843) -> (238.2934, -30.2857)
  line L24 (218.4798, -68.5672) -> (218.4798, -42.0171)
  line L25 (218.4798, -42.0171) -> (234.2523, -26.2446)
  line L26 (234.2523, -26.2446) -> (238.2934, -30.2857)
  line L27 (224.1948, -68.5672) -> (218.4798, -68.5672)
  line L28 (230.6602, -22.6525) -> (213.3998, -39.9129)
  line L29 (213.3998, -39.9129) -> (213.3998, -68.5672)
  line L30 (207.6848, -68.5672) -> (207.6848, -37.5457)
  line L31 (207.6848, -37.5457) -> (226.6191, -18.6114)
  line L32 (226.6191, -18.6114) -> (230.6602, -22.6525)
  line L33 (207.6848, -68.5672) -> (213.3998, -68.5672)
  line L34 (207.6848, -23.2472) -> (210.6385, -20.2935)
  line L35 (210.6385, -20.2935) -> (210.6385, -20.2935)
  line L36 (210.6385, -20.2935) -> (219.4698, -11.4622)
  line L37 (207.6848, -23.2472) -> (207.6848, -15.165)
  line L38 (207.6848, -15.165) -> (215.4287, -7.421)
  line L39 (215.4287, -7.421) -> (219.4698, -11.4622)
  line L40 (211.8366, -3.8289) -> (207.6848, -7.9808)
  line L41 (207.6848, -7.9808) -> (207.6848, 0.3229)
  line L42 (211.8366, -3.8289) -> (207.6848, 0.3229)
  point P0 (0, 0)
  dimension "d108" = 6.35
  dimension "d109" = 6.35
  dimension "d110" = 6.35
  dimension "d111" = 6.35
  dimension "d112" = 2.54
  dimension "d113" = 15.24
  dimension "d114" = 3.175
  dimension "d115" = 5.715
  dimension "d116" = 5.715
  dimension "d117" = 5.08
  dimension "d118" = 5.715
  dimension "d119" = 5.715
  dimension "d120" = 5.08
  dimension "d121" = 5.08
  dimension "d122" = 5.08
  dimension "d123" = 5.715
  dimension "d124" = 5.715
  dimension "d127" = 5.08
  dimension "d128" = 5.715
  dimension "d129" = 5.715
  dimension "d130" = 5.08
  dimension "d131" = 3.405
  dimension "d132" = 4.9897
  dimension "d133" = 5.715
  dimension "d134" = 3.175
  dimension "d136" = 3.175
  dimension "d137" = 5.08
extrude "Extrusion17" cut sketch "Sketch6" against normal blind 12.7 contours L14 L13 L12 L15 L11 L10 | L20 L19 L18 L21 L17 L16 | L27 L24 L25 L26 L23 L22 | L28 L29 L33 L30 L31 L32 | L37 L38 L39 L36 L34 | L40 L41 L42
properties part number "Phone_Holder"
